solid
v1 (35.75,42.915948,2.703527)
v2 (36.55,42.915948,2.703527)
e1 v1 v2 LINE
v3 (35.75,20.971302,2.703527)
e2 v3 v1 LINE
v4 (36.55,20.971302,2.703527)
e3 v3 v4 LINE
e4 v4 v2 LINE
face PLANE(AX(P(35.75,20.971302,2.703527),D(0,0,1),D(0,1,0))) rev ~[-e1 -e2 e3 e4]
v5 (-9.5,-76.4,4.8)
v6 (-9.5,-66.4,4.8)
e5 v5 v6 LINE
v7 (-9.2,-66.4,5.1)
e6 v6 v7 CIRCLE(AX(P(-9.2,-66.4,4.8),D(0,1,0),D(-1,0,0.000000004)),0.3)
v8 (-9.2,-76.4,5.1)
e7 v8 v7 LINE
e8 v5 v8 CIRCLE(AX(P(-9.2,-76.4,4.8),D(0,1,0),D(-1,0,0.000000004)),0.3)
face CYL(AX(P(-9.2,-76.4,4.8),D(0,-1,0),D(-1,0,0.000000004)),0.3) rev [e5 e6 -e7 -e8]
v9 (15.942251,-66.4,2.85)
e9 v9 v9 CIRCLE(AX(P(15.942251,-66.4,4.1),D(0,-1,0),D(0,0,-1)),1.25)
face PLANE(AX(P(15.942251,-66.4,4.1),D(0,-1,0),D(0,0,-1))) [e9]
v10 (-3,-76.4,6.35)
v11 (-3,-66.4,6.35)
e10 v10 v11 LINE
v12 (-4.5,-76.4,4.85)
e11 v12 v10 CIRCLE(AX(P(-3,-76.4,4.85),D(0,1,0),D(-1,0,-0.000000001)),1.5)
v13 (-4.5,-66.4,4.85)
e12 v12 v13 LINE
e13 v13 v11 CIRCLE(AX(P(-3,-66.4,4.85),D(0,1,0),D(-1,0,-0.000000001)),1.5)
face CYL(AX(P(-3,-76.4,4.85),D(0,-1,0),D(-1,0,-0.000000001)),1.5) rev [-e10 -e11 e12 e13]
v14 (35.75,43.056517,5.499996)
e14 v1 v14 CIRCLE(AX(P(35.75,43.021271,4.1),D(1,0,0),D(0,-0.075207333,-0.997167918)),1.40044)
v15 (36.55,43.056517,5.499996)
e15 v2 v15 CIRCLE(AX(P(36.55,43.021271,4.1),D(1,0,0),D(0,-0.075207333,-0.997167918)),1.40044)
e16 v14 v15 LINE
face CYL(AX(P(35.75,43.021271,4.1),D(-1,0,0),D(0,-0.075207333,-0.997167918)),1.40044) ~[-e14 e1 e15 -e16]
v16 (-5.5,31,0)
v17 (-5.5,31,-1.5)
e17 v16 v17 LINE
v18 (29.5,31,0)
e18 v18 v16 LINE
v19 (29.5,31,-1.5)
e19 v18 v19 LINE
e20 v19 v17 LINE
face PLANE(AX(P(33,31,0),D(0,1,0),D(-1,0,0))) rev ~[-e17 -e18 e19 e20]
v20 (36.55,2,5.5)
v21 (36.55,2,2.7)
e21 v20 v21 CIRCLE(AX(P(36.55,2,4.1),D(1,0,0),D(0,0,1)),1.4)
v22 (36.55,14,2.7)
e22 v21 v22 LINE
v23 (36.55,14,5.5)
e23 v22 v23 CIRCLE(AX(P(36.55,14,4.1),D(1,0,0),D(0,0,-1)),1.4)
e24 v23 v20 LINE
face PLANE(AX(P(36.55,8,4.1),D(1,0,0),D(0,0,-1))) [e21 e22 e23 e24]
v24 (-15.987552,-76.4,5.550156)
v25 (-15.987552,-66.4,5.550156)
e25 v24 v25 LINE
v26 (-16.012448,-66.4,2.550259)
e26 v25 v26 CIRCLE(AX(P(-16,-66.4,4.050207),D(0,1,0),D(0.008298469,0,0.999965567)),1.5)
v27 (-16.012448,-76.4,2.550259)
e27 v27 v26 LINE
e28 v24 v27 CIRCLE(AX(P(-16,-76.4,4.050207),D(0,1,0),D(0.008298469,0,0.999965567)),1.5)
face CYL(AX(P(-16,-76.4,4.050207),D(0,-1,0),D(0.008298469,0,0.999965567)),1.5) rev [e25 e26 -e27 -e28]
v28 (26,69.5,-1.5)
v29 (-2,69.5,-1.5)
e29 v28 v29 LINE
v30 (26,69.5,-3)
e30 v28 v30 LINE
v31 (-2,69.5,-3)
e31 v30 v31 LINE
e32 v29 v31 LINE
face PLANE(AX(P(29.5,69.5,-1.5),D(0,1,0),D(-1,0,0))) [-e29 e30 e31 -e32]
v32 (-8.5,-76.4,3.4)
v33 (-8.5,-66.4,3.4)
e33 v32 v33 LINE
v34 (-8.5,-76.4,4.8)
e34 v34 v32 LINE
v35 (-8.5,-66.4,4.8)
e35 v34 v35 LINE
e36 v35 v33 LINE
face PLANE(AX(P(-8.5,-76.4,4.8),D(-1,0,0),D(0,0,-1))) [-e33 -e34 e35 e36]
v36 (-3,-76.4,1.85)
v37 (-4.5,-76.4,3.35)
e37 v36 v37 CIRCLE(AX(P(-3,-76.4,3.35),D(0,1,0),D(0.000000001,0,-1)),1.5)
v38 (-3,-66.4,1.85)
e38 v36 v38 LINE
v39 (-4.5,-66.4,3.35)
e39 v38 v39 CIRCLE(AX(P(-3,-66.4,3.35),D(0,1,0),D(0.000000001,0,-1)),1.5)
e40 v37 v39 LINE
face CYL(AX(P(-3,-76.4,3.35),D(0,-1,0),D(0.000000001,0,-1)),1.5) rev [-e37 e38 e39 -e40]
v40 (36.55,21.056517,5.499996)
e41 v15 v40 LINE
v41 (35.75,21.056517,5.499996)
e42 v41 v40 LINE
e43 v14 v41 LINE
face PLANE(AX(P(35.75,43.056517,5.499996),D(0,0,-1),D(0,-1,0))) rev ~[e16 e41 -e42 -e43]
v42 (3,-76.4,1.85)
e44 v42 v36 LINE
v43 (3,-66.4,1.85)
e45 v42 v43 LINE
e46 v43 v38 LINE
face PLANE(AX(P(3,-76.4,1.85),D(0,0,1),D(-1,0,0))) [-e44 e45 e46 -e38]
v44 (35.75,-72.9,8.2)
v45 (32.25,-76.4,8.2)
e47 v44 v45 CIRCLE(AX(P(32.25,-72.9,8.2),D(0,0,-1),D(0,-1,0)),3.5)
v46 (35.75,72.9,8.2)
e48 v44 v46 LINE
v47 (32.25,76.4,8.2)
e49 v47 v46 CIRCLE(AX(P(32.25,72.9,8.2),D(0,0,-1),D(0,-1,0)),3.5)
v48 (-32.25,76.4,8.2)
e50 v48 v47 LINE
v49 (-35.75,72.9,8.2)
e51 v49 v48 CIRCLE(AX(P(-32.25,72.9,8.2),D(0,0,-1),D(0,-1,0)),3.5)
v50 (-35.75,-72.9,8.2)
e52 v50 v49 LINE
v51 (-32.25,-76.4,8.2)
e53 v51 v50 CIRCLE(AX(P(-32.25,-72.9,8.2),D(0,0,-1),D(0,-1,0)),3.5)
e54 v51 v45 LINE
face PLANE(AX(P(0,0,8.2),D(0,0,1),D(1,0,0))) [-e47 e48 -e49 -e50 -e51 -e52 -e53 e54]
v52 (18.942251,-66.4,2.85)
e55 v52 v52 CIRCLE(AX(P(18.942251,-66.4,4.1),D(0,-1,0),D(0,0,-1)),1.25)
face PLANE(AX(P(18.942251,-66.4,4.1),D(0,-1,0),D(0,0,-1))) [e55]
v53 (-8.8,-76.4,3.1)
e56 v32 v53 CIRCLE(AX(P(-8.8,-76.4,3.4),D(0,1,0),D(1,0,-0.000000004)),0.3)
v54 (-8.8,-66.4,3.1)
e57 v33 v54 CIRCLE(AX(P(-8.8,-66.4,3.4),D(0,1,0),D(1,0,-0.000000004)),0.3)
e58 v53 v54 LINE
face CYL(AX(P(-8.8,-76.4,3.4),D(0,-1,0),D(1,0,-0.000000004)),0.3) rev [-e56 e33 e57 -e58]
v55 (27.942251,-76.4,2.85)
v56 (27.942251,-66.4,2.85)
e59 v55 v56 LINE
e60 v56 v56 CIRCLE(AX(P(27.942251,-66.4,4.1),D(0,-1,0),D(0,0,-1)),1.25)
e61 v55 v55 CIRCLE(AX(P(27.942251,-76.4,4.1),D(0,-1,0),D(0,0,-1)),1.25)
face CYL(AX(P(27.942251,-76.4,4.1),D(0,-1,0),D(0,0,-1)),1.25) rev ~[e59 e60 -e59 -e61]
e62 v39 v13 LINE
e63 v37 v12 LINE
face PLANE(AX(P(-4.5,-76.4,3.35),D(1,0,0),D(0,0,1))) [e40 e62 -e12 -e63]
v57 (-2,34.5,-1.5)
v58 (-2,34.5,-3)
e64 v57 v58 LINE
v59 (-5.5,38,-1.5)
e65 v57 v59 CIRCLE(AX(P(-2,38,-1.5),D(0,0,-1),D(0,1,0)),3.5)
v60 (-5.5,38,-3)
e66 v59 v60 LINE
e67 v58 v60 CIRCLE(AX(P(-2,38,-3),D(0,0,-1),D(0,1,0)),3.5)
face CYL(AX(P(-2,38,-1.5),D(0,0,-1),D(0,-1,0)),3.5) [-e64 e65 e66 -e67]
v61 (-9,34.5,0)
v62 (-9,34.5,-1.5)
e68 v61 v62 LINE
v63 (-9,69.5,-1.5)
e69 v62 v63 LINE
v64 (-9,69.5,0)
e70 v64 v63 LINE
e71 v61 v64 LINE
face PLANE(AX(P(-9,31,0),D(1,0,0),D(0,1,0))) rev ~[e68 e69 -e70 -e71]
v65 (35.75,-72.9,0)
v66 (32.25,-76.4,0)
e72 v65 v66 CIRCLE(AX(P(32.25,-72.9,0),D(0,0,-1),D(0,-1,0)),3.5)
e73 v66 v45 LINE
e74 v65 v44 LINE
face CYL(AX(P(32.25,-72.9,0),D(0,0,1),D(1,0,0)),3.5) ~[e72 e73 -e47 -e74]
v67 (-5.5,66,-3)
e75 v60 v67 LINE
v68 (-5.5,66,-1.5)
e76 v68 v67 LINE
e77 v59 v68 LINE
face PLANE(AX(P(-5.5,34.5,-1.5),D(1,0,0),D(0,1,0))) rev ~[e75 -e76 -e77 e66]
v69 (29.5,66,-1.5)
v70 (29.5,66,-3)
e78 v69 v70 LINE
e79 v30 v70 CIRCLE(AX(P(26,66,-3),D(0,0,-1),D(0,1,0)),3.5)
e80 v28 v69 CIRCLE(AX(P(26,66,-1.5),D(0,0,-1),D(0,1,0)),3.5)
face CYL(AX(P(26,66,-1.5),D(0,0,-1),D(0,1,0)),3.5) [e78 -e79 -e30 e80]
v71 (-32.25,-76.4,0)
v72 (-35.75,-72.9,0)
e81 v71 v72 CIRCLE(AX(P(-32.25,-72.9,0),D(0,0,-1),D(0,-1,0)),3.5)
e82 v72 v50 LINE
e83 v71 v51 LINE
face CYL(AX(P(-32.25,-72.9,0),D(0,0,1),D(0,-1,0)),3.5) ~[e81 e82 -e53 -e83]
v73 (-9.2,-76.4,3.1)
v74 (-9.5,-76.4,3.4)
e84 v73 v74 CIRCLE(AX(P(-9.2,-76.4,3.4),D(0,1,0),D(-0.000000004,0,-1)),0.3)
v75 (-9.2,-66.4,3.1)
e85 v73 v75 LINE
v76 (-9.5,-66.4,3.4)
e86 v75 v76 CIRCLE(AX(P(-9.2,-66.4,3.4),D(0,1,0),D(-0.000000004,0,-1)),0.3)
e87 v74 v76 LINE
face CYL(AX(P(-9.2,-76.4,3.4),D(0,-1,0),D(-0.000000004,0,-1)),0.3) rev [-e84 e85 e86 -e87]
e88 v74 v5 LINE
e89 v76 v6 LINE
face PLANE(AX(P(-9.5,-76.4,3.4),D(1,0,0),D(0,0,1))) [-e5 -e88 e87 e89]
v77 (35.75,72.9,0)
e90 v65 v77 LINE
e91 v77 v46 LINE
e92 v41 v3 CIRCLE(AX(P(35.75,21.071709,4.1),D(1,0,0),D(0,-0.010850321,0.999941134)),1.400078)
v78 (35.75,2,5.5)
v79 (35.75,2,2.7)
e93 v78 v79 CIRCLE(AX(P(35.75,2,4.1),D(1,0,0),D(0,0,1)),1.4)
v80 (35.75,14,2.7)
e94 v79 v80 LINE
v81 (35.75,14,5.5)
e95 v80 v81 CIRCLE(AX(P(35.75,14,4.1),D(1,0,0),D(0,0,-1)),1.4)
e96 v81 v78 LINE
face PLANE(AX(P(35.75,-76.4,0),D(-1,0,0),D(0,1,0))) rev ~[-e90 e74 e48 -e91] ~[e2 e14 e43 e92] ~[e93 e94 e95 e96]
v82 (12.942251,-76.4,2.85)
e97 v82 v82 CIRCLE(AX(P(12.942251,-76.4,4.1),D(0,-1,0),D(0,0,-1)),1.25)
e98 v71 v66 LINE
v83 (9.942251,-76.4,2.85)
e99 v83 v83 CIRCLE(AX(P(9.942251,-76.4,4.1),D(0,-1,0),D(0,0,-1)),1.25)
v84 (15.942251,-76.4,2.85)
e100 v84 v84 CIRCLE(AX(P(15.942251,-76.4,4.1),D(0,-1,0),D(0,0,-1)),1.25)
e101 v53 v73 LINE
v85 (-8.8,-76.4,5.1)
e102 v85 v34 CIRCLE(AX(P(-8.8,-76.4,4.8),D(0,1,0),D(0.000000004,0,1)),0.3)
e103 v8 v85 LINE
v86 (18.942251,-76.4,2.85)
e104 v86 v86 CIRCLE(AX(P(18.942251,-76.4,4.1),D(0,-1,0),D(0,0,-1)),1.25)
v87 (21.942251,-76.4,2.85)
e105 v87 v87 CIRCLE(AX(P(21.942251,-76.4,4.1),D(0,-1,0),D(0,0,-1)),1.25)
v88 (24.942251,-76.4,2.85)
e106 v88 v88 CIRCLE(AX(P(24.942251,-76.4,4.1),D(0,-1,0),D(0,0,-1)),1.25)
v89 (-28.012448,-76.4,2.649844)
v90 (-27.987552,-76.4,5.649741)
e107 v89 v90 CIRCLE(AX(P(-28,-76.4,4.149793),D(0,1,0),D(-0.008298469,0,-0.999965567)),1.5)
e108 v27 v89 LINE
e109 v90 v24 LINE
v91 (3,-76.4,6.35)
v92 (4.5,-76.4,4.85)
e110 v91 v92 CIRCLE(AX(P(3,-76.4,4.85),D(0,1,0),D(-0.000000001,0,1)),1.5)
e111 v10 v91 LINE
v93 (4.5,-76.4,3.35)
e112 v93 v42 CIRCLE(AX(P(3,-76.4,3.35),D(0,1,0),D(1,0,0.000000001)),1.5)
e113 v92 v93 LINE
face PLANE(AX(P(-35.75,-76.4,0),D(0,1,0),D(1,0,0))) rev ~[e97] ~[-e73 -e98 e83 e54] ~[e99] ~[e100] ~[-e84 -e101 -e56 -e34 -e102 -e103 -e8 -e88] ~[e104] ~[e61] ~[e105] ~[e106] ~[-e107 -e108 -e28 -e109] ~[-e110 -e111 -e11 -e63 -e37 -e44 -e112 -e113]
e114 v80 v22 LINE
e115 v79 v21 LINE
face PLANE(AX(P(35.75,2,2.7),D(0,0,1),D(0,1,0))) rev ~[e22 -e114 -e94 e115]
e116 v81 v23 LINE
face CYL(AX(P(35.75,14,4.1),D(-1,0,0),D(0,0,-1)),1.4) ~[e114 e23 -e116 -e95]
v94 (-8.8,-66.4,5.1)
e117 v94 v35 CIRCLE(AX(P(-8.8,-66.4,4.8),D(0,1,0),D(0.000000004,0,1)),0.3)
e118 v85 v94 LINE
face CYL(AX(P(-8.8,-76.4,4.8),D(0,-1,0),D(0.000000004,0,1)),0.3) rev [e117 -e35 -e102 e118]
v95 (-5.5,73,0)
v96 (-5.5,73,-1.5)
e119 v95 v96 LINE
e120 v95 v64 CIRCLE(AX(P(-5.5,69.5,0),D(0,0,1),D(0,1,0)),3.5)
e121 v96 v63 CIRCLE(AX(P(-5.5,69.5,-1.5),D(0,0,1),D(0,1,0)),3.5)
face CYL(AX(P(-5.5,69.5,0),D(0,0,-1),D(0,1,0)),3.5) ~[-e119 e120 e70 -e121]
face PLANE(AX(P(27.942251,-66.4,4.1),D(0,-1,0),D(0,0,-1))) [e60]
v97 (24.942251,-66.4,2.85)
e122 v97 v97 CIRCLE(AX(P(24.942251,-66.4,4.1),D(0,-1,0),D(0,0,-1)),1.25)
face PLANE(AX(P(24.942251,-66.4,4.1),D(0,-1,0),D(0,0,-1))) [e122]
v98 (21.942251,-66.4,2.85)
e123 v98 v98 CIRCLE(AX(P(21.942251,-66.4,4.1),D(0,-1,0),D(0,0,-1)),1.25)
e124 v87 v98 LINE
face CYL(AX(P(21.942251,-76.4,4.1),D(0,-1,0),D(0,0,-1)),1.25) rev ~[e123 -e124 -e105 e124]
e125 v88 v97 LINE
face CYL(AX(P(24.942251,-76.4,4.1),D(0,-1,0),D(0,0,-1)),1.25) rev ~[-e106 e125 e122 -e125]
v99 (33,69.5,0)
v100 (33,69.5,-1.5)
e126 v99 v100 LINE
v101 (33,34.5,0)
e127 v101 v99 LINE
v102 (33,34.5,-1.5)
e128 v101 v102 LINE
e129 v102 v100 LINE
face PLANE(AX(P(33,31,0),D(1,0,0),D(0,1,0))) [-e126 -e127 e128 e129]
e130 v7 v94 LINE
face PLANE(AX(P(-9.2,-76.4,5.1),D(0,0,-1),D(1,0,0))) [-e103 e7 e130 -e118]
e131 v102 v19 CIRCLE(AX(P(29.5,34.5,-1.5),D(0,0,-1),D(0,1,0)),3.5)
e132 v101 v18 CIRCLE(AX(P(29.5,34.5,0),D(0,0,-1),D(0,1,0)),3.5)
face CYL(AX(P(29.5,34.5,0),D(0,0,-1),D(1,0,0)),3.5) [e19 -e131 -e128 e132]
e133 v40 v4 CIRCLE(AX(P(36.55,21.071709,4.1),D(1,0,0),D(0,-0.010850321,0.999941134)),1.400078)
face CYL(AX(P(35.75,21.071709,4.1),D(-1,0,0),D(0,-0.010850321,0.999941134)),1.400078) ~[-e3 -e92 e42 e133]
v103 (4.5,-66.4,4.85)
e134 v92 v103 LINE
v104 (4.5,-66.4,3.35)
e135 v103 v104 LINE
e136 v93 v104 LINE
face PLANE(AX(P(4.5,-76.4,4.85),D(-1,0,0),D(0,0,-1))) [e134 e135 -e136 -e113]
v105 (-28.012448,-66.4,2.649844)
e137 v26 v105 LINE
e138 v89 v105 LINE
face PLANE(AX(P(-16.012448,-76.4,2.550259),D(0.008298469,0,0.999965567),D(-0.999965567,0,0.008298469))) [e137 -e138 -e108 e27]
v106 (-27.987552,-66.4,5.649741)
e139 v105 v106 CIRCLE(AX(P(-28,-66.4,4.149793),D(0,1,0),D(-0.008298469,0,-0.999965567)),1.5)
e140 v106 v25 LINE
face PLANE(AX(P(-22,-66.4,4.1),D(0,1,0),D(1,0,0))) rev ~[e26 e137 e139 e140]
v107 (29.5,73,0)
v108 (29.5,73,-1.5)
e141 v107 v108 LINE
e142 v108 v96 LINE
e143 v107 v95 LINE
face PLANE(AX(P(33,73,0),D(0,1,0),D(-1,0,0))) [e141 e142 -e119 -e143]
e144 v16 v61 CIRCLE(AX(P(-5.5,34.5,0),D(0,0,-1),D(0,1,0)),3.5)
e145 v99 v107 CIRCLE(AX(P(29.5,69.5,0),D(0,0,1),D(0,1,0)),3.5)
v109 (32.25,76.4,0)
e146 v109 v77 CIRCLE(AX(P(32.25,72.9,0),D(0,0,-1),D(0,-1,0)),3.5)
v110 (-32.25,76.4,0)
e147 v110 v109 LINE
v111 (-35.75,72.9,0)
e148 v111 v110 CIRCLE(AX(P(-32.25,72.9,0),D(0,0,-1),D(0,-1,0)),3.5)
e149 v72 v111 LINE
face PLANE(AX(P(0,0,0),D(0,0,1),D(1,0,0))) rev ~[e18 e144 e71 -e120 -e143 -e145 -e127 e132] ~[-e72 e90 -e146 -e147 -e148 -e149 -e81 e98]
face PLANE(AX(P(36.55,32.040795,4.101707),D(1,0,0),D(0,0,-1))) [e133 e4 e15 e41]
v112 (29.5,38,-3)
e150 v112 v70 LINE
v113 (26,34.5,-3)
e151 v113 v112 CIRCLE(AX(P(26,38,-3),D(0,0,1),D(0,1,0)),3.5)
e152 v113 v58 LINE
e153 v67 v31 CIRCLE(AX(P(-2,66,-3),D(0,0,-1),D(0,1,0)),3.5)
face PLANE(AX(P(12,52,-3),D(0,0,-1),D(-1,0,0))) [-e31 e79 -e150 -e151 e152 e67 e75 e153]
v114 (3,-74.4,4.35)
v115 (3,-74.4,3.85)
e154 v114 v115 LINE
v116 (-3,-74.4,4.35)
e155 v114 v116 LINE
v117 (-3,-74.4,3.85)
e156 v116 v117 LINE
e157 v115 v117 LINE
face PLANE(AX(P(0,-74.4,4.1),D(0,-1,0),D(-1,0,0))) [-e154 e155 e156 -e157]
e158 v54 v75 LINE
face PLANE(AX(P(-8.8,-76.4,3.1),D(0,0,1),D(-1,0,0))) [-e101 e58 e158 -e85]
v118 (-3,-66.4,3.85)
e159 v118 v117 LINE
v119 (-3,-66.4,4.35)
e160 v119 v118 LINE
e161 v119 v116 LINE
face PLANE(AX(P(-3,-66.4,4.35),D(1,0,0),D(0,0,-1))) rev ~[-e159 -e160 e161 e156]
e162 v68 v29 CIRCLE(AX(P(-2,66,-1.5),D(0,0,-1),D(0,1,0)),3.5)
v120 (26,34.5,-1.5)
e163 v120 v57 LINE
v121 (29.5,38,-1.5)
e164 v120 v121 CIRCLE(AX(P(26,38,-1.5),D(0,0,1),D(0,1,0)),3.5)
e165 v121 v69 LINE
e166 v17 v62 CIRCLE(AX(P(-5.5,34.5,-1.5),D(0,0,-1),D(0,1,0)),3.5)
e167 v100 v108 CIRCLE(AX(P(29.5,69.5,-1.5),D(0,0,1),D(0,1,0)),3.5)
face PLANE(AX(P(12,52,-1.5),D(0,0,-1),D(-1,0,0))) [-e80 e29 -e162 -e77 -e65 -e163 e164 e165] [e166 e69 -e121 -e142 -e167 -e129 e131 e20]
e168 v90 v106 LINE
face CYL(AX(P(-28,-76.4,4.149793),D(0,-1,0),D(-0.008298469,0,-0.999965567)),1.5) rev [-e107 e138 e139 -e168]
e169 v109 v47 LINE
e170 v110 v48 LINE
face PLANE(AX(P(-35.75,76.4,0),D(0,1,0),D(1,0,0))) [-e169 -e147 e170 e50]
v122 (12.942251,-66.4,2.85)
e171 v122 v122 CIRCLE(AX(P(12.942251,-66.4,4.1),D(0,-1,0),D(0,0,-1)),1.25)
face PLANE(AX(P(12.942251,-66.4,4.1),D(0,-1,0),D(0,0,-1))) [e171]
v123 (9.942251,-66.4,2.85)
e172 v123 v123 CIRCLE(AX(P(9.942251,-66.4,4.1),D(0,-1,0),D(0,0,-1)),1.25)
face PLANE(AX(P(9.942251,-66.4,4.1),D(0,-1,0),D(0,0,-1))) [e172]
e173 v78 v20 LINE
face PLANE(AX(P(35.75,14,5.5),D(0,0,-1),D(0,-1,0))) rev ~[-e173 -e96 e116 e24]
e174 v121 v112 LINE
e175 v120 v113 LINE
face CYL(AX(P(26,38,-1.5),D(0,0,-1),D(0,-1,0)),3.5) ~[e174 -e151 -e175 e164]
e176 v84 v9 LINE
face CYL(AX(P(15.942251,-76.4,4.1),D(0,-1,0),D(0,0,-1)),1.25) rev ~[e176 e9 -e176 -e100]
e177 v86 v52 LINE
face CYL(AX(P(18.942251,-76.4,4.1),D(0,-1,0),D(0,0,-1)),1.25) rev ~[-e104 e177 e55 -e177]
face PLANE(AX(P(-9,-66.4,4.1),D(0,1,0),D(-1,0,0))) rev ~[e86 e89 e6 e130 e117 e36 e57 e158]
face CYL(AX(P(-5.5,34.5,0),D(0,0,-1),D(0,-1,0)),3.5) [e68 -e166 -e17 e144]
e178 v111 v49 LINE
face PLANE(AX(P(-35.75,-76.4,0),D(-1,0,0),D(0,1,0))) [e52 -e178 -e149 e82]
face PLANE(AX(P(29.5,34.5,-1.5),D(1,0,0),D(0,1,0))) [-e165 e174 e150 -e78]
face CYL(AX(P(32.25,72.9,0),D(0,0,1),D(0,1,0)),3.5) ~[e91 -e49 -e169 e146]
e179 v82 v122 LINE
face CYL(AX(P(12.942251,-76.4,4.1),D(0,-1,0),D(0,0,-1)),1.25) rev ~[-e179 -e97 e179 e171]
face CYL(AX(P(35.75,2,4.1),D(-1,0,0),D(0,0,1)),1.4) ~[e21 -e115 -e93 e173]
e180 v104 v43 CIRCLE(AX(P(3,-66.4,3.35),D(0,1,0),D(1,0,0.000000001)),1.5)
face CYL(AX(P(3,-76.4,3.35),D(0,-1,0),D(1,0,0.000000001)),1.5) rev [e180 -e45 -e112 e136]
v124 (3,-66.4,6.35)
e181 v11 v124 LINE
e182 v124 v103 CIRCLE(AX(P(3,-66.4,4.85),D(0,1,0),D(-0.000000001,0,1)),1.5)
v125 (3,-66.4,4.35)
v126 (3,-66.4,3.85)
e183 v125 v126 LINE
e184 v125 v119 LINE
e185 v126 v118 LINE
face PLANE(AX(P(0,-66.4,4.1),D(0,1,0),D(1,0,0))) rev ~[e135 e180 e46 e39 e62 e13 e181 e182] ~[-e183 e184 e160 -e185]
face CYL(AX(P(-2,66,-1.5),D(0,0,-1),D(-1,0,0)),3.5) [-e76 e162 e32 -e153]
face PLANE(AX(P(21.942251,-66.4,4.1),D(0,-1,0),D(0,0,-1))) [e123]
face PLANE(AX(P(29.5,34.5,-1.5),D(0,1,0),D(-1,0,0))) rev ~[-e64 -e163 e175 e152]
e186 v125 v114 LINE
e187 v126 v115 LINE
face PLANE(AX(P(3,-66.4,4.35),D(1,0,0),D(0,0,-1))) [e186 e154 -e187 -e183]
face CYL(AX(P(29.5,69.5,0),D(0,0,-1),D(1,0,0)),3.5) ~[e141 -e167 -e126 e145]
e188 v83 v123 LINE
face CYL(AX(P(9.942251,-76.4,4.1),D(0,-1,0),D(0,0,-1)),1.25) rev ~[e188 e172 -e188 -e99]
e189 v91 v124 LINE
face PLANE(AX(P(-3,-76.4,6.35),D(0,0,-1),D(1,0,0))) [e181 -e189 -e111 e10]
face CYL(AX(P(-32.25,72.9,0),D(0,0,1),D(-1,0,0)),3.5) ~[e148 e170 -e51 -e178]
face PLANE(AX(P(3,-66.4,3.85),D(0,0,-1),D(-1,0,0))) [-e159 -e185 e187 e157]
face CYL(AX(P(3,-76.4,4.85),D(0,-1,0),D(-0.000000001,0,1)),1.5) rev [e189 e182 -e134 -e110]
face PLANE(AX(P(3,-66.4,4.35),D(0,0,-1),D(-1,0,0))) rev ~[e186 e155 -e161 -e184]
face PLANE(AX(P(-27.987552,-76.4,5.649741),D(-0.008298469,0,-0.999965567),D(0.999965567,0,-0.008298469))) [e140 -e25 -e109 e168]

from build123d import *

# Parameters (mm, degrees)
SKETCH_1_W          = 71.5
SKETCH_1_H          = 152.8
EXTRUDE_1_DEPTH     = 8.2
FILLET_3_R          = 3.5
FILLET_4_R          = 3.5
FILLET_5_R          = 3.5
FILLET_6_R          = 3.5
EXTRUDE_3_DEPTH     = 0.8
EXTRUDE_4_DEPTH     = 0.8
SKETCH_5_W          = 42
SKETCH_5_H          = 42
EXTRUDE_5_DEPTH     = 1.5
FILLET_10_R         = 3.5
FILLET_11_R         = 3.5
FILLET_12_R         = 3.5
FILLET_13_R         = 3.5
CUT_EXTRUDE_1_DEPTH = 10
SKETCH_7_W          = 6
SKETCH_7_H          = 0.5
EXTRUDE_6_DEPTH     = 8
SKETCH_8_R          = 1.25
CUT_EXTRUDE_2_DEPTH = 10
CUT_EXTRUDE_3_DEPTH = 10
SKETCH_13_W         = 35
SKETCH_13_H         = 35
EXTRUDE_7_DEPTH     = 1.5
FILLET_14_R         = 3.5
CUT_EXTRUDE_4_DEPTH = 10


with BuildPart() as part:
    # 草图1 → 凸台-拉伸1 (new body)
    with BuildSketch(Plane.XY):
        Rectangle(SKETCH_1_W, SKETCH_1_H)
    extrude(amount=EXTRUDE_1_DEPTH)

    # 圆角3
    fillet_3_edges = [part.edges().sort_by_distance(p)[0] for p in [
        (-35.75, 76.4, 4.1),
    ]]
    fillet(fillet_3_edges, radius=FILLET_3_R)

    # 圆角4
    fillet_4_edges = [part.edges().sort_by_distance(p)[0] for p in [
        (35.75, 76.4, 4.1),
    ]]
    fillet(fillet_4_edges, radius=FILLET_4_R)

    # 圆角5
    fillet_5_edges = [part.edges().sort_by_distance(p)[0] for p in [
        (35.75, -76.4, 4.1),
    ]]
    fillet(fillet_5_edges, radius=FILLET_5_R)

    # 圆角6
    fillet_6_edges = [part.edges().sort_by_distance(p)[0] for p in [
        (-35.75, -76.4, 4.1),
    ]]
    fillet(fillet_6_edges, radius=FILLET_6_R)

    # 草图3 → 凸台-拉伸3 (add)
    with BuildSketch(Plane(origin=(35.75, 0, 0), x_dir=(0, 0, -1), z_dir=(1, 0, 0))):
        with BuildLine():
            Line((-5.499995889, 43.056517333), (-5.499995889, 21.056517333))
            ThreePointArc((-5.499995889, 21.056517333), (-4.142644, 19.672279908), (-2.703526658, 20.971302108))
            Line((-2.703526658, 20.971302108), (-2.703526658, 42.915947634))
            ThreePointArc((-2.703526658, 42.915947634), (-4.029693086, 44.419944517), (-5.499995889, 43.056517333))
        make_face()
    extrude(amount=EXTRUDE_3_DEPTH)

    # 草图4 → 凸台-拉伸4 (add)
    with BuildSketch(Plane(origin=(35.75, 0, 0), x_dir=(0, 0, -1), z_dir=(1, 0, 0))):
        with BuildLine():
            Line((-5.5, 14), (-5.5, 2))
            ThreePointArc((-5.5, 2), (-4.1, 0.6), (-2.7, 2))
            Line((-2.7, 2), (-2.7, 14))
            ThreePointArc((-2.7, 14), (-4.1, 15.4), (-5.5, 14))
        make_face()
    extrude(amount=EXTRUDE_4_DEPTH)

    # 草图5 → 凸台-拉伸5 (add)
    with BuildSketch(Plane(origin=(0, 0, 0), x_dir=(-1, 0, 0), z_dir=(0, 0, -1))):
        with Locations((-12, 52)):
            Rectangle(SKETCH_5_W, SKETCH_5_H)
    extrude(amount=EXTRUDE_5_DEPTH)

    # 圆角10
    fillet_10_edges = [part.edges().sort_by_distance(p)[0] for p in [
        (33, 73, -0.75),
    ]]
    fillet(fillet_10_edges, radius=FILLET_10_R)

    # 圆角11
    fillet_11_edges = [part.edges().sort_by_distance(p)[0] for p in [
        (-9, 73, -0.75),
    ]]
    fillet(fillet_11_edges, radius=FILLET_11_R)

    # 圆角12
    fillet_12_edges = [part.edges().sort_by_distance(p)[0] for p in [
        (33, 31, -0.75),
    ]]
    fillet(fillet_12_edges, radius=FILLET_12_R)

    # 圆角13
    fillet_13_edges = [part.edges().sort_by_distance(p)[0] for p in [
        (-9, 31, -0.75),
    ]]
    fillet(fillet_13_edges, radius=FILLET_13_R)

    # 草图6 → 切除-拉伸1 (cut)
    with BuildSketch(Plane(origin=(0, -76.4, 0), x_dir=(-1, 0, 0), z_dir=(0, -1, 0))):
        with BuildLine():
            Line((3, -6.35), (-3, -6.35))
            ThreePointArc((-3, -6.35), (-4.060660172, -5.910660172), (-4.5, -4.85))
            Line((-4.5, -4.85), (-4.5, -3.35))
            ThreePointArc((-4.5, -3.35), (-4.060660172, -2.289339828), (-3, -1.85))
            Line((-3, -1.85), (3, -1.85))
            ThreePointArc((3, -1.85), (4.060660172, -2.289339828), (4.5, -3.35))
            Line((4.5, -3.35), (4.5, -4.85))
            ThreePointArc((4.5, -4.85), (4.060660172, -5.910660172), (3, -6.35))
        make_face()
    extrude(amount=-CUT_EXTRUDE_1_DEPTH, mode=Mode.SUBTRACT)

    # 草图7 → 凸台-拉伸6 (add)
    with BuildSketch(Plane(origin=(0, -66.4, 0), x_dir=(-1, 0, 0), z_dir=(0, -1, 0))):
        with Locations((0, -4.1)):
            Rectangle(SKETCH_7_W, SKETCH_7_H)
    extrude(amount=EXTRUDE_6_DEPTH)

    # 草图8 → 切除-拉伸2 (cut)
    with BuildSketch(Plane(origin=(0, -76.4, 0), x_dir=(-1, 0, 0), z_dir=(0, -1, 0))):
        with Locations(Location((-9.942250917, -4.1, 0), (0, 0, 90))):
            Circle(SKETCH_8_R)
        with Locations(Location((-12.942250917, -4.1, 0), (0, 0, 90))):
            Circle(SKETCH_8_R)
        with Locations(Location((-15.942250917, -4.1, 0), (0, 0, 90))):
            Circle(SKETCH_8_R)
        with Locations(Location((-18.942250917, -4.1, 0), (0, 0, 90))):
            Circle(SKETCH_8_R)
        with Locations(Location((-21.942250917, -4.1, 0), (0, 0, 90))):
            Circle(SKETCH_8_R)
        with Locations(Location((-24.942250917, -4.1, 0), (0, 0, 90))):
            Circle(SKETCH_8_R)
        with Locations(Location((-27.942250917, -4.1, 0), (0, 0, 90))):
            Circle(SKETCH_8_R)
    extrude(amount=-CUT_EXTRUDE_2_DEPTH, mode=Mode.SUBTRACT)

    # 草图11 → 切除-拉伸3 (cut)
    with BuildSketch(Plane.XZ.offset(76.4)):
        with BuildLine():
            Line((-9.2, 5.1), (-8.8, 5.1))
            ThreePointArc((-8.8, 5.1), (-8.587867966, 5.012132034), (-8.5, 4.8))
            Line((-8.5, 4.8), (-8.5, 3.4))
            ThreePointArc((-8.5, 3.4), (-8.587867966, 3.187867966), (-8.8, 3.1))
            Line((-8.8, 3.1), (-9.2, 3.1))
            ThreePointArc((-9.2, 3.1), (-9.412132034, 3.187867966), (-9.5, 3.4))
            Line((-9.5, 3.4), (-9.5, 4.8))
            ThreePointArc((-9.5, 4.8), (-9.412132034, 5.012132034), (-9.2, 5.1))
        make_face()
    extrude(amount=-CUT_EXTRUDE_3_DEPTH, mode=Mode.SUBTRACT)

    # 草图13 → 凸台-拉伸7 (add)
    with BuildSketch(Plane(origin=(0, 0, -1.5), x_dir=(-1, 0, 0), z_dir=(0, 0, -1))):
        with Locations((-12, 52)):
            Rectangle(SKETCH_13_W, SKETCH_13_H)
    extrude(amount=EXTRUDE_7_DEPTH)

    # 圆角14
    fillet_14_edges = [part.edges().sort_by_distance(p)[0] for p in [
        (-5.5, 34.5, -2.25),
        (-5.5, 69.5, -2.25),
        (29.5, 69.5, -2.25),
        (29.5, 34.5, -2.25),
    ]]
    fillet(fillet_14_edges, radius=FILLET_14_R)

    # 草图14 → 切除-拉伸4 (cut)
    with BuildSketch(Plane(origin=(0, -76.4, 0), x_dir=(-1, 0, 0), z_dir=(0, -1, 0))):
        with BuildLine():
            Line((16.012447704, -2.550259118), (28.012447704, -2.64984418))
            ThreePointArc((28.012447704, -2.64984418), (29.499948351, -4.162240235), (27.987552296, -5.649740882))
            Line((27.987552296, -5.649740882), (15.987552296, -5.55015582))
            ThreePointArc((15.987552296, -5.55015582), (14.500051649, -4.037759765), (16.012447704, -2.550259118))
        make_face()
    extrude(amount=-CUT_EXTRUDE_4_DEPTH, mode=Mode.SUBTRACT)


solid = part.part
